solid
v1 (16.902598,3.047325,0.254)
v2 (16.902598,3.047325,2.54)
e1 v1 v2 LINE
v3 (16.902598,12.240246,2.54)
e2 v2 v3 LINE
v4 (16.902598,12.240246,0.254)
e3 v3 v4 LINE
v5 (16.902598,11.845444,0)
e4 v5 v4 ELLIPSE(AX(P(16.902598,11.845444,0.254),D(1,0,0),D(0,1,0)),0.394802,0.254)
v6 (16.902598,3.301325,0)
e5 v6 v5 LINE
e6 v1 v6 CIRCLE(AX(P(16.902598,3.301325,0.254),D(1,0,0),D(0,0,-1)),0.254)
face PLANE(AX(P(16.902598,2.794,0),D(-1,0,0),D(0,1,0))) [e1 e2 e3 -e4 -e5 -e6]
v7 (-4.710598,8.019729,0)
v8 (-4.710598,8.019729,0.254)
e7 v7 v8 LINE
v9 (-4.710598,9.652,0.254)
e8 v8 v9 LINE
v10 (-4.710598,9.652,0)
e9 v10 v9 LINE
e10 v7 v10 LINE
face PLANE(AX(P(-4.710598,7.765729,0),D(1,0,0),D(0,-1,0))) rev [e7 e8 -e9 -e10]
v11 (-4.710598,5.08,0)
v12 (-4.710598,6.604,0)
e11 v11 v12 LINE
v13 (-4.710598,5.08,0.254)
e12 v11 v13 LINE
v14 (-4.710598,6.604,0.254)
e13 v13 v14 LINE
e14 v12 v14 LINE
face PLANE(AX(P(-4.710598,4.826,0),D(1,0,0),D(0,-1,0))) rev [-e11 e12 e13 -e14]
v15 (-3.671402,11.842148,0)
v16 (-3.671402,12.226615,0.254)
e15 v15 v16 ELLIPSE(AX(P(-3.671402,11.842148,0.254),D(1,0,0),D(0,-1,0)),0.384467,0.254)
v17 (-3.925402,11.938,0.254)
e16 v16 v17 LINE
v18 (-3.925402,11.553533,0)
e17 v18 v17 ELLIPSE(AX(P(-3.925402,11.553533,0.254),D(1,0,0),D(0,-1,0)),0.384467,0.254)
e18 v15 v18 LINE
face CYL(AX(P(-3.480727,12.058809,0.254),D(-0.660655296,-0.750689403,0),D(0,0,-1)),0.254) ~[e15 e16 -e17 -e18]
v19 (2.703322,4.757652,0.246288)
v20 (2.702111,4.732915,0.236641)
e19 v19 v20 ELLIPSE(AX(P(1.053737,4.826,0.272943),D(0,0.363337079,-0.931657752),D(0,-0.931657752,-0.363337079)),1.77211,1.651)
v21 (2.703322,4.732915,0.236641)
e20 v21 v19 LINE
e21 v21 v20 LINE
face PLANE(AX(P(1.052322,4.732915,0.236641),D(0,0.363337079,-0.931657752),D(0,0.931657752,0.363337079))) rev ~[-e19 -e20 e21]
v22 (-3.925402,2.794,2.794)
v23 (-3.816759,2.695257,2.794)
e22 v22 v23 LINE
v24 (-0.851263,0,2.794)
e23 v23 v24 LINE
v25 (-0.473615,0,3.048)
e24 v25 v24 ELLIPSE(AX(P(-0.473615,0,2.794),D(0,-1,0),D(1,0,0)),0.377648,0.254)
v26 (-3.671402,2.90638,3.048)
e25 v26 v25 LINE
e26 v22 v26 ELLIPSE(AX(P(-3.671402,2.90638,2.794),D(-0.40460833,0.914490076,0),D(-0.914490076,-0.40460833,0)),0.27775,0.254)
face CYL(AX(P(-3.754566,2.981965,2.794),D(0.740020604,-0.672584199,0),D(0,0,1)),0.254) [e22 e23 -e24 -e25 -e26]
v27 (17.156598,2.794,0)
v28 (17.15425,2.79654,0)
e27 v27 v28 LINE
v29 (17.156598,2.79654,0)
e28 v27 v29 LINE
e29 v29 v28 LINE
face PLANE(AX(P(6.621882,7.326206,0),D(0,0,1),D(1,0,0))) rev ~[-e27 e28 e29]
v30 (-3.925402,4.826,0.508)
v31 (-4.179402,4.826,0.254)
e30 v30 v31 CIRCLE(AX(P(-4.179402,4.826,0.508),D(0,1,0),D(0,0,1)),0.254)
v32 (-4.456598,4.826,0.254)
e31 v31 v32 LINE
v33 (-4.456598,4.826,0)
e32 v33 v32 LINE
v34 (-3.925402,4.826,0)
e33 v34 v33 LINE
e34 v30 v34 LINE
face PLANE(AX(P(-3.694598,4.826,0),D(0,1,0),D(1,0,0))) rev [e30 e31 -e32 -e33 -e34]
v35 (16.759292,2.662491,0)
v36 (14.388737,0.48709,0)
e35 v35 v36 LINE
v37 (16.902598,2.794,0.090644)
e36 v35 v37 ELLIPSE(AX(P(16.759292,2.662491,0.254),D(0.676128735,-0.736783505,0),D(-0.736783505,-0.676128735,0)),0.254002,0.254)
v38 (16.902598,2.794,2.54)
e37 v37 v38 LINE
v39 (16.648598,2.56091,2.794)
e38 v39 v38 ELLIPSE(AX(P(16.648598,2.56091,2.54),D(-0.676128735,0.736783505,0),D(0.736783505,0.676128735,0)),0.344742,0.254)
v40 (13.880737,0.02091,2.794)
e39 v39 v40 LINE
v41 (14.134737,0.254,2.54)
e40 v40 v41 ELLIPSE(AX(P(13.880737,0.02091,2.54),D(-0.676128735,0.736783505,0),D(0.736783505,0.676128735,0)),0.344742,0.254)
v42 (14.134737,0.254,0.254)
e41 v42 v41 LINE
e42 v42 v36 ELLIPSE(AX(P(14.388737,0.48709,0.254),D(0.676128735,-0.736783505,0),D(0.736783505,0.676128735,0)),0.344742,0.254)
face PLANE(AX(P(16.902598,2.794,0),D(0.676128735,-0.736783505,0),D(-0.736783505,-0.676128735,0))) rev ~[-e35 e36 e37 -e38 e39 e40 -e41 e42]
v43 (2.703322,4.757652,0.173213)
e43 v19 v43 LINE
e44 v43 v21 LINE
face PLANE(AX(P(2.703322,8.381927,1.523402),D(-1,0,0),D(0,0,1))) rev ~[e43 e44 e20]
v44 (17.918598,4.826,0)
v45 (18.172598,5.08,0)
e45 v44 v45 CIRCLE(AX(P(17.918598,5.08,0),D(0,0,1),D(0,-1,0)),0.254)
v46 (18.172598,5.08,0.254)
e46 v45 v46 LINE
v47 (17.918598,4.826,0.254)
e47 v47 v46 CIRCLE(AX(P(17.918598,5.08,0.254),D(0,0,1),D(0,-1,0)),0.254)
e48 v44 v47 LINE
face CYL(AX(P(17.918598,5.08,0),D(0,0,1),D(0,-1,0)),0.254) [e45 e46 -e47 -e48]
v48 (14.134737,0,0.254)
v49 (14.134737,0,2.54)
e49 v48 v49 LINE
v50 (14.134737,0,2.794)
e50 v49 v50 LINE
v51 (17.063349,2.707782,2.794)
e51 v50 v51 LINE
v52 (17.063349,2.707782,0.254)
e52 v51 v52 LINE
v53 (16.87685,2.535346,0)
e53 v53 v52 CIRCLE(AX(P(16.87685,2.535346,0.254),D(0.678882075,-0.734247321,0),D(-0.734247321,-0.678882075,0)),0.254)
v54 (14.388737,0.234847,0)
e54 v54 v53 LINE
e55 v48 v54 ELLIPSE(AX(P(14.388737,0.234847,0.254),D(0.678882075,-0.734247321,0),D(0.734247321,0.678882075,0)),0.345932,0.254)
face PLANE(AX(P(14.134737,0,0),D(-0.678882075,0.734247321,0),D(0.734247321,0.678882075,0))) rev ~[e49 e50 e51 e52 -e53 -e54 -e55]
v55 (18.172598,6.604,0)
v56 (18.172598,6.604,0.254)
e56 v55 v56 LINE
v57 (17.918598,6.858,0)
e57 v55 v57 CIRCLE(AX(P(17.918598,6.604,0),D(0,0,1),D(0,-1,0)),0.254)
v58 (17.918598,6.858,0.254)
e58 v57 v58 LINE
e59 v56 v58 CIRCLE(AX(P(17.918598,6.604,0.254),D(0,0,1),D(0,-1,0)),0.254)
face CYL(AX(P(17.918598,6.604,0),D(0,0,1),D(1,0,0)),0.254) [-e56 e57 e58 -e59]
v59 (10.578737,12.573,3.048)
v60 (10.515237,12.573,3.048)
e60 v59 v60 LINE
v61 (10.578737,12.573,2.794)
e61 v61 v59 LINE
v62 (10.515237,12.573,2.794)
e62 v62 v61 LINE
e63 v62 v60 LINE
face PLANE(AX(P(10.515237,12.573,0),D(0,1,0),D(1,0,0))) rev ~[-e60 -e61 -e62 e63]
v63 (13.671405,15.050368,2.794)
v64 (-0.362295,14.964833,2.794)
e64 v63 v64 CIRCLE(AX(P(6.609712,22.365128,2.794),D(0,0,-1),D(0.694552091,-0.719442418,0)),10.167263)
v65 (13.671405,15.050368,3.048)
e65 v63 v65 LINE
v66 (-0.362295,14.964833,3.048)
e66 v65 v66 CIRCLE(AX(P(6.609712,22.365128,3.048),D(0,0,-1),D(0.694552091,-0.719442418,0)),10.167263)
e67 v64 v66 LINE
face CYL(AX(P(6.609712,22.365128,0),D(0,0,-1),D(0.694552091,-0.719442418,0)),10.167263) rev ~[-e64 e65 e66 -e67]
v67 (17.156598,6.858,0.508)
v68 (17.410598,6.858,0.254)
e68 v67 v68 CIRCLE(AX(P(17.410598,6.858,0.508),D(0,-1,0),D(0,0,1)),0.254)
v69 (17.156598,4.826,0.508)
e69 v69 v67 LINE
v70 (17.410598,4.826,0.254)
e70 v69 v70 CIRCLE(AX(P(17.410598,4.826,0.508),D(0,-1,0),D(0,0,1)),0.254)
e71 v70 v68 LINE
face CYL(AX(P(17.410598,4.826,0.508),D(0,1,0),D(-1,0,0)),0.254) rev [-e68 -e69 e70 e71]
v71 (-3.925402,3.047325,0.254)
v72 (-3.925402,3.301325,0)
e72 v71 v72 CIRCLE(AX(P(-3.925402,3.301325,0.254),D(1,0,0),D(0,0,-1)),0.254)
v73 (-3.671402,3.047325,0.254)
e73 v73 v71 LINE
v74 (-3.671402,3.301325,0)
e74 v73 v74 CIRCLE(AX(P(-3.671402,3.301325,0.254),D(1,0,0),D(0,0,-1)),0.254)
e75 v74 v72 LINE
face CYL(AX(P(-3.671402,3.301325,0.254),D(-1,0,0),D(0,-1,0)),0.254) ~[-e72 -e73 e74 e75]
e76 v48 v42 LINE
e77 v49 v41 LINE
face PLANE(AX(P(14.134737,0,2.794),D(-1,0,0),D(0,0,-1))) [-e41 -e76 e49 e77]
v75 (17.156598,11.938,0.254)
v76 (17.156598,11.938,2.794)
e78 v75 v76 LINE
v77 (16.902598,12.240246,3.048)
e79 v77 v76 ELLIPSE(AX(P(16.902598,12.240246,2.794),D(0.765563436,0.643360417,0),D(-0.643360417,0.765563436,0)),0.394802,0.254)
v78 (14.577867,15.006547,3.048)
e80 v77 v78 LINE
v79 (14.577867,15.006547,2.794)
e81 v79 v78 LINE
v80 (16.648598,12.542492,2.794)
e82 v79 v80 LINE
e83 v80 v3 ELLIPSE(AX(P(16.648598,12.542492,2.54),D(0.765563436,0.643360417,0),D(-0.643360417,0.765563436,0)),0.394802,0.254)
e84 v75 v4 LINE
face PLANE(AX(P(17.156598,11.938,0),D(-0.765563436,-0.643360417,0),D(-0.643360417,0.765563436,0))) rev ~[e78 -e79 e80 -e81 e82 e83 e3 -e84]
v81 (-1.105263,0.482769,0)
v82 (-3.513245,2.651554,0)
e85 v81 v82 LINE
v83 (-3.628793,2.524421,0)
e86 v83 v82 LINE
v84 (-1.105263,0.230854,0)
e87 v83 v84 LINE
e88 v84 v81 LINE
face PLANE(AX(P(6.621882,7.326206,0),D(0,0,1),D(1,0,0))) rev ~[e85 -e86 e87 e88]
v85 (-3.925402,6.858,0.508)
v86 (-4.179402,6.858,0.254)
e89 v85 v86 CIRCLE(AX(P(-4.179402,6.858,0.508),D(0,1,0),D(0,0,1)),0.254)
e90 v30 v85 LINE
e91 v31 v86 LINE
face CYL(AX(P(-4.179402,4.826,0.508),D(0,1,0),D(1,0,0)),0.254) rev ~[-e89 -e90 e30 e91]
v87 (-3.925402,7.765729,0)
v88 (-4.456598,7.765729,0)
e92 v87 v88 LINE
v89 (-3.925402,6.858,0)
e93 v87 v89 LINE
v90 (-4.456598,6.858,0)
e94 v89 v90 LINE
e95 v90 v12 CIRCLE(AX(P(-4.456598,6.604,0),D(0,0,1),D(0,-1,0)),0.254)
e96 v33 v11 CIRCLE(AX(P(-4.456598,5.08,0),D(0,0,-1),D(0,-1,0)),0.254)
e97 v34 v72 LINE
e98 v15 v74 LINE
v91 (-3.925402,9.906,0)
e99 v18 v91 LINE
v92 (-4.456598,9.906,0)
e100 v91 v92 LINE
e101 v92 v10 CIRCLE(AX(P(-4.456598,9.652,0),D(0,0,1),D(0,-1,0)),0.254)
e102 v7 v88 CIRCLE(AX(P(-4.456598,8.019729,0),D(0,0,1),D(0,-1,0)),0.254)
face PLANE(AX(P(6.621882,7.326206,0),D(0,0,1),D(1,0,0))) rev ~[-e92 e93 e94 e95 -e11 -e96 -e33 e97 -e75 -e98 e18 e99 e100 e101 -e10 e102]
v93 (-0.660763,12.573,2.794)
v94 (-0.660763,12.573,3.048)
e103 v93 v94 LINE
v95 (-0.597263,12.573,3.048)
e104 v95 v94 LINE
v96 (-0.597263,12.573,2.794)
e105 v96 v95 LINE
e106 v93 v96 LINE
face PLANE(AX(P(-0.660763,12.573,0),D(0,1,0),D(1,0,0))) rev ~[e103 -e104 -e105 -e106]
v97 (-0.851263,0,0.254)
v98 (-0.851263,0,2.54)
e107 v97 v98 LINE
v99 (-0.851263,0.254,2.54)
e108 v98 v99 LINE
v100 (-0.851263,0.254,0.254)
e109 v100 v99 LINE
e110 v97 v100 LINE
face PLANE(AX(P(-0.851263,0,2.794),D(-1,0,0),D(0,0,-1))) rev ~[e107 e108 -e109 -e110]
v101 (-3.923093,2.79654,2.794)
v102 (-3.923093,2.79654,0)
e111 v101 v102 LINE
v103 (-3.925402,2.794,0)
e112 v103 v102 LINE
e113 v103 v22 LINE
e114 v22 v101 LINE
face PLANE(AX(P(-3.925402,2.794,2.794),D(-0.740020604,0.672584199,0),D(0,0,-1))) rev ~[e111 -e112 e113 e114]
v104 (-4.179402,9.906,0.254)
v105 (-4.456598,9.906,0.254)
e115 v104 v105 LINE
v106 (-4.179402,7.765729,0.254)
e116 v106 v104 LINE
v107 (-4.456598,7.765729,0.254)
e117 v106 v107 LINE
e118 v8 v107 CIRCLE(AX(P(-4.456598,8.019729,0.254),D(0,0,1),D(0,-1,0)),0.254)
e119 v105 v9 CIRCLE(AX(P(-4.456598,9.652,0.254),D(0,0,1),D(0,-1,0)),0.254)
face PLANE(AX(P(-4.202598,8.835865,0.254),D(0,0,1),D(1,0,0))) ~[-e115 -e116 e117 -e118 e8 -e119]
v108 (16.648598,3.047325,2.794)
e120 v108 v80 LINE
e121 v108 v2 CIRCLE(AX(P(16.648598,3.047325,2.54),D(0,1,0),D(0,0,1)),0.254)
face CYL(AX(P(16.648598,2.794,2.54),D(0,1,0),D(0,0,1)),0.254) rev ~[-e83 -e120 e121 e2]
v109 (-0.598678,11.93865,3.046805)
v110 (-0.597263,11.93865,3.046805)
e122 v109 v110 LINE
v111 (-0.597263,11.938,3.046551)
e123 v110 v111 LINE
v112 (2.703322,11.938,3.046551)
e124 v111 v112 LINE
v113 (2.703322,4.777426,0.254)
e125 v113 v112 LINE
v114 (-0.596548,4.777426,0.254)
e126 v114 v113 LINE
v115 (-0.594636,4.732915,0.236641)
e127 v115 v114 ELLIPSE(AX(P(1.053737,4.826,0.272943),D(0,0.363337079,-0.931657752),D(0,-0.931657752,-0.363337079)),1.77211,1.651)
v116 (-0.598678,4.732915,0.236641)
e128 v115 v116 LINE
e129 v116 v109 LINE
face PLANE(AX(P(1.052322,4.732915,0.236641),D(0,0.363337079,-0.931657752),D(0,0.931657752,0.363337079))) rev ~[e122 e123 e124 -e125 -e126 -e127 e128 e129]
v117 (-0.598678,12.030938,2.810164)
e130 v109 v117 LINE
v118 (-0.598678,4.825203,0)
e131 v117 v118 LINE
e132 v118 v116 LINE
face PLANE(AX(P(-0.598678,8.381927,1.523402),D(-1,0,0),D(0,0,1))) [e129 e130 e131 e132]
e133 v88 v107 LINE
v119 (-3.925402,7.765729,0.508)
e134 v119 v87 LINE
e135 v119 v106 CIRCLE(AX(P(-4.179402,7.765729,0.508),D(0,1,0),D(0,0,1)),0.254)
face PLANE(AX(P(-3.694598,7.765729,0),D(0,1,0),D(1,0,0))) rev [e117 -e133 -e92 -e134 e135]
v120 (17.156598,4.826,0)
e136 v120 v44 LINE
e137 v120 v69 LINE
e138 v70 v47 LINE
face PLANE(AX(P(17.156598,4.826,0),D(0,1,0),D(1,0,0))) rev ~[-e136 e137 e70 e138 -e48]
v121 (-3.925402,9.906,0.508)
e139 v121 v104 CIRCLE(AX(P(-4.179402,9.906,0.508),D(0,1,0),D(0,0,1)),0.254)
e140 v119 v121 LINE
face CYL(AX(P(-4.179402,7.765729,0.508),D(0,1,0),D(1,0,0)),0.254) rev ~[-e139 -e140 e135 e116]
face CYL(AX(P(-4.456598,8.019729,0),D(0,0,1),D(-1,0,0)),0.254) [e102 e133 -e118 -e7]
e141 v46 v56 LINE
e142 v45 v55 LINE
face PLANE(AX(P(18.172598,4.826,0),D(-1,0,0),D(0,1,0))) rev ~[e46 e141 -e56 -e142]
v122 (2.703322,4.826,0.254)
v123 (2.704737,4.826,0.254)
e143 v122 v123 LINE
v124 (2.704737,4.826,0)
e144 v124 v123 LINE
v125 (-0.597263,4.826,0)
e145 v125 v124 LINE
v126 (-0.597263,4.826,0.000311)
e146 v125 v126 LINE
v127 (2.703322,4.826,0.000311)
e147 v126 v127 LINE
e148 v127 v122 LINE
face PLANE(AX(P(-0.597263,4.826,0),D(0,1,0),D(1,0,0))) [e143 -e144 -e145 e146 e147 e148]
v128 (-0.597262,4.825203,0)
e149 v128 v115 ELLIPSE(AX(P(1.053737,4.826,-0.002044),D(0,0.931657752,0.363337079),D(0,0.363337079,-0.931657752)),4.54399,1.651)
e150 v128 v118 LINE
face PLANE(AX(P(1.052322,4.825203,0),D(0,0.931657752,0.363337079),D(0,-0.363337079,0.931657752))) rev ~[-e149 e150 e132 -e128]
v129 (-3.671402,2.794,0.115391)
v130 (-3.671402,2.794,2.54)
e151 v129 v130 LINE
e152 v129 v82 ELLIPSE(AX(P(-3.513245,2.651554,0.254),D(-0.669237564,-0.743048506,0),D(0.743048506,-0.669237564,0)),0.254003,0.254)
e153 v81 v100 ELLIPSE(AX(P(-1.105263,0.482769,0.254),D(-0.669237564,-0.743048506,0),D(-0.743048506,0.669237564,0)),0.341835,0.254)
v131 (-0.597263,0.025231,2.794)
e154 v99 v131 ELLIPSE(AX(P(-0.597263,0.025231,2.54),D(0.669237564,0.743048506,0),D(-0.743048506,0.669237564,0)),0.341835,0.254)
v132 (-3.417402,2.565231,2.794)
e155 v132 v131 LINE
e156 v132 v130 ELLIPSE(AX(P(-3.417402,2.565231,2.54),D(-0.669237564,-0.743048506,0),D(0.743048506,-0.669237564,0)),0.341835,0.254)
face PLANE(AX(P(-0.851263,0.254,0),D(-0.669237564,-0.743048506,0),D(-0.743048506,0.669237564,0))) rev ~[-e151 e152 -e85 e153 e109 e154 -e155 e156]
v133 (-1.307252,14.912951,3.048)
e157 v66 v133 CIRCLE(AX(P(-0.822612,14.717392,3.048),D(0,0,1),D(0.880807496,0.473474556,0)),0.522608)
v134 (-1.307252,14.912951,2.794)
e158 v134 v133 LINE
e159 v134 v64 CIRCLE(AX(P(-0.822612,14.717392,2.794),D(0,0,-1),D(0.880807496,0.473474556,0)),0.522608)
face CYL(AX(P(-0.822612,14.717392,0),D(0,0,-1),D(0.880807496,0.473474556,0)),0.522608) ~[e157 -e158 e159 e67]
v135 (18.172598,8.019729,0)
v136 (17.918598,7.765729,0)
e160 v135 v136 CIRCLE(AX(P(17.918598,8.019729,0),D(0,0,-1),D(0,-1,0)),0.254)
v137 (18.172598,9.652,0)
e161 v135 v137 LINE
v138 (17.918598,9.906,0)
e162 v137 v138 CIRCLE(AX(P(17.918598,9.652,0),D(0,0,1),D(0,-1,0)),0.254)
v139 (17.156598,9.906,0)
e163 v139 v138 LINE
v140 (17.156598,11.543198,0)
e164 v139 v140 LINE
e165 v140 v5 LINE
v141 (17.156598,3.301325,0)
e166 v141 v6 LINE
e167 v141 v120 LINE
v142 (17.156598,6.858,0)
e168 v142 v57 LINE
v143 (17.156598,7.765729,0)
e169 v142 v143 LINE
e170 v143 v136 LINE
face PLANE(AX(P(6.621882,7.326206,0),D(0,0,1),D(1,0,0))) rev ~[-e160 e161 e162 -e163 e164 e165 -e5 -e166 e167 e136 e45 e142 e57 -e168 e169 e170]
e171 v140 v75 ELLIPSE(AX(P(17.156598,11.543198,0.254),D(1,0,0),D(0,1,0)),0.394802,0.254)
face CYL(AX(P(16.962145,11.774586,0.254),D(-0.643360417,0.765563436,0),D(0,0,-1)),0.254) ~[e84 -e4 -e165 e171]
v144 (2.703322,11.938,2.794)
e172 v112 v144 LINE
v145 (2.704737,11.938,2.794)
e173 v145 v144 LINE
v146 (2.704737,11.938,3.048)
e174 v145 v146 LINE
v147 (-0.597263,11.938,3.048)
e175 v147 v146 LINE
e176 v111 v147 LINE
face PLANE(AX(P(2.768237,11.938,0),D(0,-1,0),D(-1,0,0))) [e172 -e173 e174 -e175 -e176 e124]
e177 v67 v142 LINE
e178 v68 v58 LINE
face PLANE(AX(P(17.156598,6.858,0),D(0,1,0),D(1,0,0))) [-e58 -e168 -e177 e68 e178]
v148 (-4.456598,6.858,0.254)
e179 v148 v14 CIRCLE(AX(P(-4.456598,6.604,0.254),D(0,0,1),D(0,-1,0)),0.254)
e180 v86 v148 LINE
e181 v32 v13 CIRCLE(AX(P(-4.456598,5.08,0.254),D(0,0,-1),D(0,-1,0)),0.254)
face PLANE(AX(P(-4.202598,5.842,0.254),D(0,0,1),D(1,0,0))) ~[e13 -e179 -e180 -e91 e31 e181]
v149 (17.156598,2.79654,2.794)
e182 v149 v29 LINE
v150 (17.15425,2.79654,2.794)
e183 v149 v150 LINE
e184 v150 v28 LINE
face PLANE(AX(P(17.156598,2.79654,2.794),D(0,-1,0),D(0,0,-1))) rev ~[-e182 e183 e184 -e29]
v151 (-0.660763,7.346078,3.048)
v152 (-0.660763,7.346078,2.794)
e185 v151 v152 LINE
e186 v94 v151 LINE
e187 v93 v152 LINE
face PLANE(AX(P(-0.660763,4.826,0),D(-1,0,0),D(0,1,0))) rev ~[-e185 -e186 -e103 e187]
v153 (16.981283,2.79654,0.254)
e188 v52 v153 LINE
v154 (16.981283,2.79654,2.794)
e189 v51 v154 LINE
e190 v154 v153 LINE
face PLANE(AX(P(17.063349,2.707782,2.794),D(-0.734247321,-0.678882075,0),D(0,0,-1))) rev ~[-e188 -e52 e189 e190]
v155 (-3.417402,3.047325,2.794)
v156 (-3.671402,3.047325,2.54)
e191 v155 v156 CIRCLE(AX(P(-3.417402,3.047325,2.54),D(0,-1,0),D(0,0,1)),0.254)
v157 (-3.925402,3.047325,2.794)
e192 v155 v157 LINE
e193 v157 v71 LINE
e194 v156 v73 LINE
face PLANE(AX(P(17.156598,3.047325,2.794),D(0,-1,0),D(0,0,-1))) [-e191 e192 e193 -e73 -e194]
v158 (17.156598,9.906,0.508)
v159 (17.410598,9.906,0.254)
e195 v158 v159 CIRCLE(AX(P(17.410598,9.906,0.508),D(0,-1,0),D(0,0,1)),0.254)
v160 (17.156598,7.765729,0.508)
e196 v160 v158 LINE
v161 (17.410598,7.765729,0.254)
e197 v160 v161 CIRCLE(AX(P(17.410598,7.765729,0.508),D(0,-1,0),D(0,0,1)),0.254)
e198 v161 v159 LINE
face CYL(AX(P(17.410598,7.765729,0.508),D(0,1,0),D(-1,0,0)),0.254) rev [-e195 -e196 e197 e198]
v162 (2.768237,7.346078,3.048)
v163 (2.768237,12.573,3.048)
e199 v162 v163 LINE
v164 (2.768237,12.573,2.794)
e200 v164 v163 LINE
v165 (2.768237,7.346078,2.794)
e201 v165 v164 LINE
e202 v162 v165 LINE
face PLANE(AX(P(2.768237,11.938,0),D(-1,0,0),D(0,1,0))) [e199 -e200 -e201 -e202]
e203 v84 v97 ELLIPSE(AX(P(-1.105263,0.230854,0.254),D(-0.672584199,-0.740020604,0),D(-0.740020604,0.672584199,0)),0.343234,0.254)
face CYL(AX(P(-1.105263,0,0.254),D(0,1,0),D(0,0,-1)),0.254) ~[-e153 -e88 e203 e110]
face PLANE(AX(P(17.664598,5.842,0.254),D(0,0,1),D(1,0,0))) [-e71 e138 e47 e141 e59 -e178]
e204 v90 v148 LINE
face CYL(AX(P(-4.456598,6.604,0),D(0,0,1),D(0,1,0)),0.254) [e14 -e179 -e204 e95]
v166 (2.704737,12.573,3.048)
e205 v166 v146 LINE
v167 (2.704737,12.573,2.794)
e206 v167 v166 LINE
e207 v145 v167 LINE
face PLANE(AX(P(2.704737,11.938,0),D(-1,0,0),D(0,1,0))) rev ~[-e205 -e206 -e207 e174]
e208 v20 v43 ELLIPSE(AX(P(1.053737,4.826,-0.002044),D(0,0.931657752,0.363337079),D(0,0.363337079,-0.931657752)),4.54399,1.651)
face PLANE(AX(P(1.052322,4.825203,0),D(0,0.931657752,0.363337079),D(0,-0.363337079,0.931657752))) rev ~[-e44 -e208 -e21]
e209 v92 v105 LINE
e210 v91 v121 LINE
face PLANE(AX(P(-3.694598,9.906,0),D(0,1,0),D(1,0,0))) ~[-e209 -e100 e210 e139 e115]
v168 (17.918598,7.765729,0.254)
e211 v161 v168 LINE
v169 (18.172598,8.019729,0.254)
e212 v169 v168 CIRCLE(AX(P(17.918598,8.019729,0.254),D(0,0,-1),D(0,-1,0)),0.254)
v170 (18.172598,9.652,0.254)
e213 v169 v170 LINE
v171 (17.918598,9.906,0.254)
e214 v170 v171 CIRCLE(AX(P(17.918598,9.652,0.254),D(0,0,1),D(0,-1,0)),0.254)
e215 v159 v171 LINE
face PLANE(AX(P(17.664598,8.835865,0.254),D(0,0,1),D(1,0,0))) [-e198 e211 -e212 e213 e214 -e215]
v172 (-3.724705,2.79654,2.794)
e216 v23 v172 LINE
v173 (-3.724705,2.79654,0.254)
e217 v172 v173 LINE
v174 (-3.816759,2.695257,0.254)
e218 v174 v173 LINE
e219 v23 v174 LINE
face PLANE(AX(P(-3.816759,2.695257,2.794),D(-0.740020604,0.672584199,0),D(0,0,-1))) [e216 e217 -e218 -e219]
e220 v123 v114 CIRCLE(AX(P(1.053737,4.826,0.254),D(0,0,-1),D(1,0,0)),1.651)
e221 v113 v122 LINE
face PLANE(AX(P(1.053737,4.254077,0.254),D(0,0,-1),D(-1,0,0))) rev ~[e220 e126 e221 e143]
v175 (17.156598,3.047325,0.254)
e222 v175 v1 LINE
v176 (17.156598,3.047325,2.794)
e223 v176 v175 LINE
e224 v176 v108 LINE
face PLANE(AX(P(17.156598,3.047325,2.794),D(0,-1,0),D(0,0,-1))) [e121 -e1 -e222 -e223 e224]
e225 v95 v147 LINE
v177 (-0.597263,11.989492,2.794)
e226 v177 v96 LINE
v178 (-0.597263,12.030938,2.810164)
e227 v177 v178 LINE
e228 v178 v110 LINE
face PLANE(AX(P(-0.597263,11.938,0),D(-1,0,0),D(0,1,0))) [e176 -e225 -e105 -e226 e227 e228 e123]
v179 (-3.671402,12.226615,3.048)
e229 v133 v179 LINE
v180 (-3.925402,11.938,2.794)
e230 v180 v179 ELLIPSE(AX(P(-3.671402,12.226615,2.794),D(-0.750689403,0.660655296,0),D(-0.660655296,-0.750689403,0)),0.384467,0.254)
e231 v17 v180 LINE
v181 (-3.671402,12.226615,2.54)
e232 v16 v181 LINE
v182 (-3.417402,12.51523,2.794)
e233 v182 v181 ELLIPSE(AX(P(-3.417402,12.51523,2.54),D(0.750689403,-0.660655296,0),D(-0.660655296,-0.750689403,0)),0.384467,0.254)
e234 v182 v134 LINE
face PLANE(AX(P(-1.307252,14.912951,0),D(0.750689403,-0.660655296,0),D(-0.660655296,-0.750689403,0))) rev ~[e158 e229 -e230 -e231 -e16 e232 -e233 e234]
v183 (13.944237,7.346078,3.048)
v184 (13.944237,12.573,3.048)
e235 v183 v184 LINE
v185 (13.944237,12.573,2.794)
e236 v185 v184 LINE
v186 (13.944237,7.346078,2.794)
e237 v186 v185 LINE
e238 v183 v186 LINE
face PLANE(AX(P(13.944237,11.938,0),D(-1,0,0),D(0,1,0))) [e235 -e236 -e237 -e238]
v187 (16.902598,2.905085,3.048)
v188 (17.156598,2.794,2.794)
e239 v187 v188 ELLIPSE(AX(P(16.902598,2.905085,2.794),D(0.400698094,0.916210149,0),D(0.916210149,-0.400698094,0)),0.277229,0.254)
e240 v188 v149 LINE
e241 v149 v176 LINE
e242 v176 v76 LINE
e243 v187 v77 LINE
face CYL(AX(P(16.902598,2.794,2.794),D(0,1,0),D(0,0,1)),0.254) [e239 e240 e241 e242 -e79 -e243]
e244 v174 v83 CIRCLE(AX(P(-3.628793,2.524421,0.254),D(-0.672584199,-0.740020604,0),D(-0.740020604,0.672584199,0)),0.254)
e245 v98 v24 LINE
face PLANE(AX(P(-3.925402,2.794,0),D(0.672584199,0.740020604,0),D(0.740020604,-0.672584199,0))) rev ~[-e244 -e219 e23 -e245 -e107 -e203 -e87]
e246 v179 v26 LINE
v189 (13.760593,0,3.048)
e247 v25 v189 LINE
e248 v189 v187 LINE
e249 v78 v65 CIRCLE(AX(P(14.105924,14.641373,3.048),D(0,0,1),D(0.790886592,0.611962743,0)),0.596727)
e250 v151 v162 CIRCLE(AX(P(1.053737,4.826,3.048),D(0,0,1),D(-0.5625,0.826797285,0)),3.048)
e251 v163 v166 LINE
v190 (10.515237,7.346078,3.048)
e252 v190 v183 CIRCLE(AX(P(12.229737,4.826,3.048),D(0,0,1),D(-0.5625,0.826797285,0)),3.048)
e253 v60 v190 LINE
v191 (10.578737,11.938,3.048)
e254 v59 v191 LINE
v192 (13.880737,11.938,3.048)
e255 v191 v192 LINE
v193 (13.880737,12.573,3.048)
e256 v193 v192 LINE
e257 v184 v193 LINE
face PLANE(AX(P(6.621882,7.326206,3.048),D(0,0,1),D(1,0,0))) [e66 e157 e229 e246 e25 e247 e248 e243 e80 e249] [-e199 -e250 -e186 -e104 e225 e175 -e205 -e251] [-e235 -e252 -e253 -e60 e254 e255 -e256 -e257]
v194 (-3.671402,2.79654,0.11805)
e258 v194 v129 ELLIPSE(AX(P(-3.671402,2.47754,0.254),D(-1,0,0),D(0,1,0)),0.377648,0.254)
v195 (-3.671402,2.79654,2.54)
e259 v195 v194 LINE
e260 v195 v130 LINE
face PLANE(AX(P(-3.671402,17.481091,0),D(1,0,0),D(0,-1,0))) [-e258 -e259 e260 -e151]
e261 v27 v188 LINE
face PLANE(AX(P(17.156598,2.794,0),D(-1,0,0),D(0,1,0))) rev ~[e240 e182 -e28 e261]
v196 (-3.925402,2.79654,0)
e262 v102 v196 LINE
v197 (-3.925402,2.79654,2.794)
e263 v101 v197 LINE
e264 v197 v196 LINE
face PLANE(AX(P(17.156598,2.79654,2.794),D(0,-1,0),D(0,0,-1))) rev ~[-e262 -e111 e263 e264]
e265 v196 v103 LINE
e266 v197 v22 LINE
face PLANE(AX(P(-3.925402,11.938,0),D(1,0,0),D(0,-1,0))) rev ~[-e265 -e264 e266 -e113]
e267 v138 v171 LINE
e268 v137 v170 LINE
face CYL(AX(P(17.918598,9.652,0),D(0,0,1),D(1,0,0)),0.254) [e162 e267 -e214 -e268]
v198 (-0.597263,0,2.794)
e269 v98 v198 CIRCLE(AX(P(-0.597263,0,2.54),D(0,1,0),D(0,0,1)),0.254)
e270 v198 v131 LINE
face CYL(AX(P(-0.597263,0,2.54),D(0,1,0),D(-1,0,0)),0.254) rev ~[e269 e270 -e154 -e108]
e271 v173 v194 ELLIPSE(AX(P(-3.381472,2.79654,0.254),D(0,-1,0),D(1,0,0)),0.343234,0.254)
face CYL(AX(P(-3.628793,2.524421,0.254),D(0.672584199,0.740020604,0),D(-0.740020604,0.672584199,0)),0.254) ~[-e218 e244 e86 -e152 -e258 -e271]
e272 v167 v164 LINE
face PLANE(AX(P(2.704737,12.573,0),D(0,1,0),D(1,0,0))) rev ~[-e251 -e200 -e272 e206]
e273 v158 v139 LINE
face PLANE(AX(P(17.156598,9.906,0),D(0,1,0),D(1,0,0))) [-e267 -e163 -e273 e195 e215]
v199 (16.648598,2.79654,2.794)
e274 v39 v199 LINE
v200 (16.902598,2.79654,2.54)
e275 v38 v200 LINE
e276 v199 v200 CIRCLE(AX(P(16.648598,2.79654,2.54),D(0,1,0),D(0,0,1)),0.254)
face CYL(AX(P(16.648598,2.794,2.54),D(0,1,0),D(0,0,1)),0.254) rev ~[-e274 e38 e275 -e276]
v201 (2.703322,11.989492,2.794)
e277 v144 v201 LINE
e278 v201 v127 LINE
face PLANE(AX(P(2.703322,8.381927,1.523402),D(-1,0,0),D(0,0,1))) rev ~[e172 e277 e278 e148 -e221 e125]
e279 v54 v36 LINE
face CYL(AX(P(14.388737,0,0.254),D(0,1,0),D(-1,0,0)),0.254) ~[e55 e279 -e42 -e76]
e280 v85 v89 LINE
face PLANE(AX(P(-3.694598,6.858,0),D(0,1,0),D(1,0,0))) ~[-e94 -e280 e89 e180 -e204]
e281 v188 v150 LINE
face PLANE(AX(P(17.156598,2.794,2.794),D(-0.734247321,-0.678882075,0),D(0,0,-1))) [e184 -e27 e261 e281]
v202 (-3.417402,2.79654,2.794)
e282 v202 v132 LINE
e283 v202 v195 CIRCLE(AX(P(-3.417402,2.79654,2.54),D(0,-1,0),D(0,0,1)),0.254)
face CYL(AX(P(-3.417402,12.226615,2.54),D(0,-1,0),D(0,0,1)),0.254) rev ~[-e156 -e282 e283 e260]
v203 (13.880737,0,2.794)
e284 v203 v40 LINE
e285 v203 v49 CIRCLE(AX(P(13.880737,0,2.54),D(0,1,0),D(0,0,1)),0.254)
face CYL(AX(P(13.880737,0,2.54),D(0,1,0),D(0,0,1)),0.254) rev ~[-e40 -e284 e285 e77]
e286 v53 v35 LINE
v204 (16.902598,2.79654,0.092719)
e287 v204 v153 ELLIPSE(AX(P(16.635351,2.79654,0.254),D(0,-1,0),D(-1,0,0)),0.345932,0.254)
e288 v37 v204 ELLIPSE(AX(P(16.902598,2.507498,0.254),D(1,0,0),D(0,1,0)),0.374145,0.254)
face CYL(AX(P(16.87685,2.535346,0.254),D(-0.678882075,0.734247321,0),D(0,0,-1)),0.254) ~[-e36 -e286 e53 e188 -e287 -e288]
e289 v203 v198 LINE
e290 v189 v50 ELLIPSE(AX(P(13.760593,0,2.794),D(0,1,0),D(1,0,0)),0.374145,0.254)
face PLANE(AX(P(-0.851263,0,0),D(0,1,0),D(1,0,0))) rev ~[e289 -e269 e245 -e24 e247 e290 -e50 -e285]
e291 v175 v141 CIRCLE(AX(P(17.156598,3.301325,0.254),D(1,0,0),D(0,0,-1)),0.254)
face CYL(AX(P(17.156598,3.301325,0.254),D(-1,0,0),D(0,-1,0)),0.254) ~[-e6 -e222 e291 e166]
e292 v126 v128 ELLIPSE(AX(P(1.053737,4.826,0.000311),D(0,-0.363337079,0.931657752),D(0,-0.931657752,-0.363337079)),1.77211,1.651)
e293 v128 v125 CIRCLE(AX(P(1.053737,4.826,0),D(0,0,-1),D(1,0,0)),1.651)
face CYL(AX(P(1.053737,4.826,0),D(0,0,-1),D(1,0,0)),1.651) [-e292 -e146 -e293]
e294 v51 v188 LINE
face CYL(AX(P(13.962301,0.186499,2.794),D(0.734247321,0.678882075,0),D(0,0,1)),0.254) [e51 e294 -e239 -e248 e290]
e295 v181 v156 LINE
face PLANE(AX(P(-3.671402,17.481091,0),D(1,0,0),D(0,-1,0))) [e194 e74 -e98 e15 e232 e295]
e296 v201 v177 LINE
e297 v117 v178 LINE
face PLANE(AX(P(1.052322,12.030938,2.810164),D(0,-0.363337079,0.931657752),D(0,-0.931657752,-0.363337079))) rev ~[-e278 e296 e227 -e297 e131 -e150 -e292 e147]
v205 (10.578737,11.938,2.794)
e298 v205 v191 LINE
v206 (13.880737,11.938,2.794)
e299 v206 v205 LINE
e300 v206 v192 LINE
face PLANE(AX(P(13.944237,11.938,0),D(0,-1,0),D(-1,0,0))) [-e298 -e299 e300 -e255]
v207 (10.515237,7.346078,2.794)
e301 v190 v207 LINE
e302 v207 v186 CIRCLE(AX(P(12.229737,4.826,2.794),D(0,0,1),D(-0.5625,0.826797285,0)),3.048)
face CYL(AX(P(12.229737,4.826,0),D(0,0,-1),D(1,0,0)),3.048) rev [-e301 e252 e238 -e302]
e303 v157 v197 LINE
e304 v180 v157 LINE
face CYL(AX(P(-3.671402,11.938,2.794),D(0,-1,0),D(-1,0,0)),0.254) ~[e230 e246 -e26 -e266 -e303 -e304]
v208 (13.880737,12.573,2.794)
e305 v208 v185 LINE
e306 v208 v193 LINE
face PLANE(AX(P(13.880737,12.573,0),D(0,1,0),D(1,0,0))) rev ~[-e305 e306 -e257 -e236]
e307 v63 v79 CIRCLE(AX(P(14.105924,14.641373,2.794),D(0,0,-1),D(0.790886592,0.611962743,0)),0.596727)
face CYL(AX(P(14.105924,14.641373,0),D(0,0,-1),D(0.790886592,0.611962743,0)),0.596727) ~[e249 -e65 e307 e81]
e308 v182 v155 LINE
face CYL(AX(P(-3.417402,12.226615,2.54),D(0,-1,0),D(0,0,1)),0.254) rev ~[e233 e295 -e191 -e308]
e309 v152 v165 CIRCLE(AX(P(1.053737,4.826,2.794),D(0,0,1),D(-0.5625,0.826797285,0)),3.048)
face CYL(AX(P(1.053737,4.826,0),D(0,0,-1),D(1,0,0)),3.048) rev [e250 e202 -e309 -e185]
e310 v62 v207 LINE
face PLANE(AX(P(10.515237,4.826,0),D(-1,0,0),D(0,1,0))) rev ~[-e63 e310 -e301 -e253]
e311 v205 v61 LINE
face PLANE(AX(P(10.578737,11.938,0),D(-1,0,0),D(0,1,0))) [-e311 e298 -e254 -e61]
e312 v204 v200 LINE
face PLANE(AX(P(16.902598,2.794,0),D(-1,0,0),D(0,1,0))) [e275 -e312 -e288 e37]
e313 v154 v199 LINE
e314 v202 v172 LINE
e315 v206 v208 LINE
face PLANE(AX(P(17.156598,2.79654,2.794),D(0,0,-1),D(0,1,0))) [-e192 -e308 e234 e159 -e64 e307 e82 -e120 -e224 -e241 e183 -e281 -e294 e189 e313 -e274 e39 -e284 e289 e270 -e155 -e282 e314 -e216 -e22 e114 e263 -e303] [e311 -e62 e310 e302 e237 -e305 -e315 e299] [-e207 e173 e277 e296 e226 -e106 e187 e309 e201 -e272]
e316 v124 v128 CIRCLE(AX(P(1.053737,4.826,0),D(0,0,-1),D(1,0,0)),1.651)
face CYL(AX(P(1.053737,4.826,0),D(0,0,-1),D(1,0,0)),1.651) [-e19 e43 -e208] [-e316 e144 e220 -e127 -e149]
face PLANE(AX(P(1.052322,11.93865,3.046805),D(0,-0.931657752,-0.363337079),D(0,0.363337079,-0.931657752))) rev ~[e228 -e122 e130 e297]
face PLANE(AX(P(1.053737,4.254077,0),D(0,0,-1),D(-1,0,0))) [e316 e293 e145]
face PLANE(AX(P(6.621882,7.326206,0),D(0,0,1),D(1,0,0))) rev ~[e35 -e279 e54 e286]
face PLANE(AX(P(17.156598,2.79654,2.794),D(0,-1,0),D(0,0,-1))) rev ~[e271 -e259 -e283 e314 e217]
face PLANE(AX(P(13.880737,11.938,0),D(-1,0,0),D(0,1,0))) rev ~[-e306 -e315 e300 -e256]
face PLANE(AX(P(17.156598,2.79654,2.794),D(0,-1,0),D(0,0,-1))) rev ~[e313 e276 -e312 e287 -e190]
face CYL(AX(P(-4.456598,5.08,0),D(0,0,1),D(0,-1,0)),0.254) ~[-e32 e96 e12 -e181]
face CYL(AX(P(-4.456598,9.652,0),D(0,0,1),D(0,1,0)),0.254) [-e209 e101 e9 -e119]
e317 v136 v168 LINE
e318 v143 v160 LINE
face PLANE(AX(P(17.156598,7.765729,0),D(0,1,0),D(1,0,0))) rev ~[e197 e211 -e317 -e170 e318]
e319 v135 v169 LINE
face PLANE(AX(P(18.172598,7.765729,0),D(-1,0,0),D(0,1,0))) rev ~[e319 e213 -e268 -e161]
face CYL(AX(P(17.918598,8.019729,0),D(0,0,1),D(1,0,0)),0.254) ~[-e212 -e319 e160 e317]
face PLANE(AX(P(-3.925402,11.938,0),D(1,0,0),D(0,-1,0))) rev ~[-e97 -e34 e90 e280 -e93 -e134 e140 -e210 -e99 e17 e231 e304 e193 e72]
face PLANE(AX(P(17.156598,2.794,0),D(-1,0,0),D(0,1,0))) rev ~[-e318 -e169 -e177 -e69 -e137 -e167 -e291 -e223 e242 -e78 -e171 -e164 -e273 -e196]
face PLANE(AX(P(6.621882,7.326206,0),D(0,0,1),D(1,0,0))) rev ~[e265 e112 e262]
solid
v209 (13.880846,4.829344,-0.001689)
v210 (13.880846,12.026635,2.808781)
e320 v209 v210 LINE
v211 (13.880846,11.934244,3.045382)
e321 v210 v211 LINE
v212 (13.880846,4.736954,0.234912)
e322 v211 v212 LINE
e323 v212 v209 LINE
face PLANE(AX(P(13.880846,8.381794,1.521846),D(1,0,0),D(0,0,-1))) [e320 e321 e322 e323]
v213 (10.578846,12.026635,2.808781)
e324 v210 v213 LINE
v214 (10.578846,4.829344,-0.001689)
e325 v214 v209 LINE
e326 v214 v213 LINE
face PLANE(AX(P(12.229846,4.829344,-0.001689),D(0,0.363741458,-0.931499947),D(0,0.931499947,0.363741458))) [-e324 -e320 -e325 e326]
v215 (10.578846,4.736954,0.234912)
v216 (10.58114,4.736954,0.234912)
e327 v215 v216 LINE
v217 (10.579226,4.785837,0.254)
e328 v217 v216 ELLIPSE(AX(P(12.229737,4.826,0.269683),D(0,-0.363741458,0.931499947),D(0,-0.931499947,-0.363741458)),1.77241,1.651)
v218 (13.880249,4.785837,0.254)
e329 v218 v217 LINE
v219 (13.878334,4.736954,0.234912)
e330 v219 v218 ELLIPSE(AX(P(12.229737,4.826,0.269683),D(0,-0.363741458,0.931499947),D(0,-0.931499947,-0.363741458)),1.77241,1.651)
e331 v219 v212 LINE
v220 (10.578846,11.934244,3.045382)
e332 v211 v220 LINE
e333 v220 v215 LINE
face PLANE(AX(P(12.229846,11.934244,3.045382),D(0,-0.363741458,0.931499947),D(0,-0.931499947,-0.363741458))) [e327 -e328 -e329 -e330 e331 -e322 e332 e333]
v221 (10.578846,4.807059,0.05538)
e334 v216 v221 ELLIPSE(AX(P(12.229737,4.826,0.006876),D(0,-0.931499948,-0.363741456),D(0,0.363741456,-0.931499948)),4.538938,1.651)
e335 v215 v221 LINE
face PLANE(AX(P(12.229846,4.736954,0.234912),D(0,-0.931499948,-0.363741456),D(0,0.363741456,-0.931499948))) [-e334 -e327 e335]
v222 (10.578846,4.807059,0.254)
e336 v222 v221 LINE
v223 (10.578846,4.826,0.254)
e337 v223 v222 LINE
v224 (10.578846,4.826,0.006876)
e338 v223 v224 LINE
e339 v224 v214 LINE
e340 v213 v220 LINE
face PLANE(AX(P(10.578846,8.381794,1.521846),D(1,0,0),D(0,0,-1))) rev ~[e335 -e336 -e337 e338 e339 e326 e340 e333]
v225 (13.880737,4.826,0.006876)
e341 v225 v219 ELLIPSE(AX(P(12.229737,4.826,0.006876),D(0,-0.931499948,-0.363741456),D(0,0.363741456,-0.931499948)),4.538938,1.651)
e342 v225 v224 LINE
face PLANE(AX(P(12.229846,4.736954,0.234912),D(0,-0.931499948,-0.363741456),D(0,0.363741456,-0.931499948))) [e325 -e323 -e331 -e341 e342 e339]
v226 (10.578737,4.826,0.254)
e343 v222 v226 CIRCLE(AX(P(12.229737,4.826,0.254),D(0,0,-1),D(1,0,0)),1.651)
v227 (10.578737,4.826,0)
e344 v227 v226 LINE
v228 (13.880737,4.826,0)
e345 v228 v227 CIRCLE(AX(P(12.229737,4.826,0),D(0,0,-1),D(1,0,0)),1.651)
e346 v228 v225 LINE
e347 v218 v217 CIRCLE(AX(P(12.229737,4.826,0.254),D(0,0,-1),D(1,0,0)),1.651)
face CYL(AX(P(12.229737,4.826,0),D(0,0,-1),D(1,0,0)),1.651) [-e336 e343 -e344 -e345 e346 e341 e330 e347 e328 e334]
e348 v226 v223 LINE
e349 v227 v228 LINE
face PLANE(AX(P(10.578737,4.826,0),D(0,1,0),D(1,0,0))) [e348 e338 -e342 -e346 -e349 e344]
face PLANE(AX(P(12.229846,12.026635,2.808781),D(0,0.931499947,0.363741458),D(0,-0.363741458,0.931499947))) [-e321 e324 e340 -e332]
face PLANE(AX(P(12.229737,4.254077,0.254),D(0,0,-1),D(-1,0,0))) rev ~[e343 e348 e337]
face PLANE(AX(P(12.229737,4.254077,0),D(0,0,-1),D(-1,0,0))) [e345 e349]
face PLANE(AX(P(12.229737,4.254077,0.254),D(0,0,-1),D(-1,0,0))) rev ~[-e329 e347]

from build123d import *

# Parameters (mm, degrees)
BOSS_EXTRUDE1_DEPTH     = 3.048
SKETCH2_R               = 3.048
CUT_EXTRUDE1_DEPTH      = 4.048
CUT_EXTRUDE1_DEPTH_BACK = 1
SKETCH4_W               = 1.016
SKETCH4_H               = 2.032
SKETCH4_H_2             = 2.140270597
BOSS_EXTRUDE2_DEPTH     = 0.254
FILLET1_R               = 0.254
FILLET2_R               = 0.254
CUT_EXTRUDE3_DEPTH      = 2.794
FILLET4_R               = 0.254
FILLET5_R               = 0.254
SKETCH5_W               = 14.986
SKETCH5_H               = 2.794
CUT_EXTRUDE4_DEPTH      = 0.254
FILLET6_R               = 0.254
FILLET7_R               = 0.254
SKETCH9_W               = 2.794
SKETCH9_H               = 0.250785097
CUT_EXTRUDE16_DEPTH     = 22.867195958
SKETCH11_W              = 0.146811333
SKETCH11_H              = 2.794
CUT_EXTRUDE17_DEPTH     = 0.1524
SKETCH12_W              = 0.127
SKETCH12_H              = 2.794
CUT_EXTRUDE18_DEPTH     = 0.127
FILLET8_R               = 0.254
FILLET9_R               = 0.254
CUT_EXTRUDE19_DEPTH     = 4.048
SKETCH14_W              = 0.0635
SKETCH14_H              = 0.635
CUT_EXTRUDE20_DEPTH     = 4.048
BOSS_EXTRUDE3_DEPTH     = 0.254
BOSS_EXTRUDE3_2_DEPTH   = 0.254
EXTRUDE_THIN1_START     = 5.498846
EXTRUDE_THIN1_DEPTH     = 1.651
EXTRUDE_THIN2_START     = -5.678678
EXTRUDE_THIN2_DEPTH     = 1.651


with BuildPart() as part:
    # Sketch1 → Boss-Extrude1 (new body)
    with BuildSketch(Plane.XY):
        with BuildLine():
            Line((-0.851262648, 0), (14.134737352, 0))
            Line((14.134737352, 0), (17.156597979, 2.794))
            Line((17.156597979, 2.794), (17.156597979, 11.938))
            Line((17.156597979, 11.938), (14.577867285, 15.006547395))
            ThreePointArc((14.577867285, 15.006547395), (14.134737352, 15.237403744), (13.671405467, 15.050368039))
            ThreePointArc((13.671405467, 15.050368039), (6.67167938, 12.198054113), (-0.3622948, 14.964833333))
            ThreePointArc((-0.3622948, 14.964833333), (-0.851262648, 15.239214076), (-1.307252485, 14.912950968))
            Line((-1.307252485, 14.912950968), (-3.925402021, 11.938))
            Line((-3.925402021, 11.938), (-3.925402021, 2.794))
            Line((-3.925402021, 2.794), (-0.851262648, 0))
        make_face()
    extrude(amount=BOSS_EXTRUDE1_DEPTH)

    # Sketch2 → Cut-Extrude1 (cut, two sides)
    with BuildSketch(Plane.XY) as cut_extrude1_sk:
        with Locations((1.053737352, 4.826)):
            Circle(SKETCH2_R)
        with Locations((12.229737352, 4.826)):
            Circle(SKETCH2_R)
    extrude(amount=CUT_EXTRUDE1_DEPTH, mode=Mode.SUBTRACT)
    extrude(cut_extrude1_sk.sketch, amount=-CUT_EXTRUDE1_DEPTH_BACK, mode=Mode.SUBTRACT)

    # Sketch4 → Boss-Extrude2 (add)
    with BuildSketch(Plane.XY):
        with Locations((17.664597979, 5.842)):
            Rectangle(SKETCH4_W, SKETCH4_H)
        with Locations((17.664597979, 8.835864702)):
            Rectangle(SKETCH4_W, SKETCH4_H_2)
    boss_extrude2 = extrude(amount=BOSS_EXTRUDE2_DEPTH)

    # Fillet1
    fillet1_edges = [part.edges().sort_by_distance(p)[0] for p in [
        (17.156597979, 8.835864702, 0.254),
        (17.156597979, 5.842, 0.254),
    ]]
    fillet(fillet1_edges, radius=FILLET1_R)

    # Fillet2
    fillet2_edges = [part.edges().sort_by_distance(p)[0] for p in [
        (18.172597979, 9.906, 0.127),
        (18.172597979, 7.765729403, 0.127),
        (18.172597979, 4.826, 0.127),
        (18.172597979, 6.858, 0.127),
    ]]
    fillet(fillet2_edges, radius=FILLET2_R)

    # Sketch3 → Cut-Extrude3 (cut)
    with BuildSketch(Plane.XY):
        Polygon((-3.671402021, 11.938), (-3.671402021, 17.481090956), (16.902597979, 17.481090956), (16.902597979, 11.938), (16.902597979, 2.794), (14.134737352, 0.254), (-0.851262648, 0.254), (-3.671402021, 2.794), align=None)
    extrude(amount=CUT_EXTRUDE3_DEPTH, mode=Mode.SUBTRACT)

    # Mirror3: Boss-Extrude2 across plane
    add(boss_extrude2.mirror(Plane(origin=(6.731, 0, 0), x_dir=(0, 0, 1), z_dir=(1, 0, 0))))

    # Fillet4
    fillet4_edges = [part.edges().sort_by_distance(p)[0] for p in [
        (-3.925402021, 8.835864702, 0.254),
        (-3.925402021, 5.842, 0.254),
    ]]
    fillet(fillet4_edges, radius=FILLET4_R)

    # Fillet5
    fillet5_edges = [part.edges().sort_by_distance(p)[0] for p in [
        (-4.710597979, 9.906, 0.127),
        (-4.710597979, 7.765729403, 0.127),
        (-4.710597979, 6.858, 0.127),
        (-4.710597979, 4.826, 0.127),
    ]]
    fillet(fillet5_edges, radius=FILLET5_R)

    # Sketch5 → Cut-Extrude4 (cut)
    with BuildSketch(Plane(origin=(0, 0, 0), x_dir=(-1, 0, 0), z_dir=(0, -1, 0))):
        with Locations((-6.641737352, -1.397)):
            Rectangle(SKETCH5_W, SKETCH5_H)
    extrude(amount=-CUT_EXTRUDE4_DEPTH, mode=Mode.SUBTRACT)

    # Fillet6
    fillet6_edges = [part.edges().sort_by_distance(p)[0] for p in [
        (-0.851262648, 0.127, 0),
        (-0.851262648, 0.127, 2.794),
        (14.134737352, 0.127, 2.794),
        (14.134737352, 0.127, 0),
    ]]
    fillet(fillet6_edges, radius=FILLET6_R)

    # Fillet7
    fillet7_edges = [part.edges().sort_by_distance(p)[0] for p in [
        (-3.798402021, 12.082307561, 0),
        (16.902597979, 7.517123, 2.794),
        (-3.671402021, 7.510307561, 2.794),
        (17.029597979, 12.089123, 0),
        (-3.925402021, 7.366, 3.048),
        (-2.388332334, 1.397, 3.048),
        (15.645667666, 1.397, 3.048),
        (17.156597979, 7.366, 3.048),
    ]]
    fillet(fillet7_edges, radius=FILLET7_R)

    # Sketch9 → Cut-Extrude16 (cut, through all)
    with BuildSketch(Plane(origin=(17.156597979, 0, 0), x_dir=(0, 0, -1), z_dir=(1, 0, 0))):
        with Locations((-1.397, 2.921932549)):
            Rectangle(SKETCH9_W, SKETCH9_H)
    extrude(amount=-CUT_EXTRUDE16_DEPTH, mode=Mode.SUBTRACT)

    # Sketch11 → Cut-Extrude17 (cut)
    with BuildSketch(Plane(origin=(-0.385085263, -0.423695694, 0), x_dir=(-0.740020604, 0.672584199, 0), z_dir=(-0.672584199, -0.740020604, 0))):
        with Locations((4.710672963, -1.397)):
            Rectangle(SKETCH11_W, SKETCH11_H)
    extrude(amount=-CUT_EXTRUDE17_DEPTH, mode=Mode.SUBTRACT)

    # Sketch12 → Cut-Extrude18 (cut)
    with BuildSketch(Plane(origin=(6.51443008, -7.045704998, 0), x_dir=(-0.734247321, -0.678882075, 0), z_dir=(0.678882075, -0.734247321, 0))):
        with Locations((-14.430482615, -1.397)):
            Rectangle(SKETCH12_W, SKETCH12_H)
    extrude(amount=-CUT_EXTRUDE18_DEPTH, mode=Mode.SUBTRACT)

    # Fillet8
    fillet8_edges = [part.edges().sort_by_distance(p)[0] for p in [
        (-3.770731963, 2.745898509, 0),
        (17.022315916, 2.752160988, 0),
    ]]
    fillet(fillet8_edges, radius=FILLET8_R)

    # Fillet9
    fillet9_edges = [part.edges().sort_by_distance(p)[0] for p in [
        (17.029597979, 3.047325097, 0),
        (-3.798402021, 3.047325097, 0),
    ]]
    fillet(fillet9_edges, radius=FILLET9_R)

    # Sketch13 → Cut-Extrude19 (cut, through all)
    with BuildSketch(Plane.XY):
        Polygon((-0.597262648, 11.938), (2.704737352, 11.938), (2.768237352, 11.938), (2.768237352, 4.826), (2.704737352, 4.826), (-0.597262648, 4.826), (-0.660762648, 4.826), (-0.660762648, 11.938), align=None)
        Polygon((10.578737352, 4.826), (10.515237352, 4.826), (10.515237352, 11.938), (10.578737352, 11.938), (13.880737352, 11.938), (13.944237352, 11.938), (13.944237352, 4.826), (13.880737352, 4.826), align=None)
    extrude(amount=CUT_EXTRUDE19_DEPTH, mode=Mode.SUBTRACT)

    # Sketch14 → Cut-Extrude20 (cut, through all)
    with BuildSketch(Plane.XY):
        with Locations((10.546987352, 12.2555)):
            Rectangle(SKETCH14_W, SKETCH14_H)
        with Locations((13.912487352, 12.2555)):
            Rectangle(SKETCH14_W, SKETCH14_H)
        with Locations((-0.629012648, 12.2555)):
            Rectangle(SKETCH14_W, SKETCH14_H)
        with Locations((2.736487352, 12.2555)):
            Rectangle(SKETCH14_W, SKETCH14_H)
    extrude(amount=CUT_EXTRUDE20_DEPTH, mode=Mode.SUBTRACT)



with BuildPart() as body_2:
    # Sketch15 → Boss-Extrude3 (new body)
    with BuildSketch(Plane.XY):
        with BuildLine():
            Line((-0.597262648, 4.826), (2.704737352, 4.826))
            ThreePointArc((2.704737352, 4.826), (1.053737352, 3.175), (-0.597262648, 4.826))
        make_face()
    extrude(amount=BOSS_EXTRUDE3_DEPTH)


with BuildPart() as body_3:
    # Sketch15 → Boss-Extrude3 2 (new body)
    with BuildSketch(Plane.XY):
        with BuildLine():
            Line((10.578737352, 4.826), (13.880737352, 4.826))
            ThreePointArc((13.880737352, 4.826), (12.229737352, 3.175), (10.578737352, 4.826))
        make_face()
    extrude(amount=BOSS_EXTRUDE3_2_DEPTH)

    # Sketch18 → Extrude-Thin1 (add, symmetric)
    with BuildSketch(Plane(origin=(6.731, 0, 0), x_dir=(0, 0, -1), z_dir=(1, 0, 0)).offset(EXTRUDE_THIN1_START)):
        Polygon((-3.045381953, 11.934244374), (-0.234911746, 4.736954124), (0.001689241, 4.829344454), (-2.808780967, 12.026634704), align=None)
    extrude(amount=EXTRUDE_THIN1_DEPTH, both=True)


with BuildPart() as part_1:
    add(part.part)

    add(body_2.part)  # Extrude-Thin2 merges body 2
    # Sketch20 → Extrude-Thin2 (add, symmetric)
    with BuildSketch(Plane(origin=(6.731, 0, 0), x_dir=(0, 0, -1), z_dir=(1, 0, 0)).offset(EXTRUDE_THIN2_START)):
        Polygon((-2.810163669, 12.030938012), (0, 4.825202854), (-0.236641069, 4.732915236), (-3.046804738, 11.938650394), align=None)
    extrude(amount=EXTRUDE_THIN2_DEPTH, both=True)


solid = Compound([body_3.part, part_1.part])
